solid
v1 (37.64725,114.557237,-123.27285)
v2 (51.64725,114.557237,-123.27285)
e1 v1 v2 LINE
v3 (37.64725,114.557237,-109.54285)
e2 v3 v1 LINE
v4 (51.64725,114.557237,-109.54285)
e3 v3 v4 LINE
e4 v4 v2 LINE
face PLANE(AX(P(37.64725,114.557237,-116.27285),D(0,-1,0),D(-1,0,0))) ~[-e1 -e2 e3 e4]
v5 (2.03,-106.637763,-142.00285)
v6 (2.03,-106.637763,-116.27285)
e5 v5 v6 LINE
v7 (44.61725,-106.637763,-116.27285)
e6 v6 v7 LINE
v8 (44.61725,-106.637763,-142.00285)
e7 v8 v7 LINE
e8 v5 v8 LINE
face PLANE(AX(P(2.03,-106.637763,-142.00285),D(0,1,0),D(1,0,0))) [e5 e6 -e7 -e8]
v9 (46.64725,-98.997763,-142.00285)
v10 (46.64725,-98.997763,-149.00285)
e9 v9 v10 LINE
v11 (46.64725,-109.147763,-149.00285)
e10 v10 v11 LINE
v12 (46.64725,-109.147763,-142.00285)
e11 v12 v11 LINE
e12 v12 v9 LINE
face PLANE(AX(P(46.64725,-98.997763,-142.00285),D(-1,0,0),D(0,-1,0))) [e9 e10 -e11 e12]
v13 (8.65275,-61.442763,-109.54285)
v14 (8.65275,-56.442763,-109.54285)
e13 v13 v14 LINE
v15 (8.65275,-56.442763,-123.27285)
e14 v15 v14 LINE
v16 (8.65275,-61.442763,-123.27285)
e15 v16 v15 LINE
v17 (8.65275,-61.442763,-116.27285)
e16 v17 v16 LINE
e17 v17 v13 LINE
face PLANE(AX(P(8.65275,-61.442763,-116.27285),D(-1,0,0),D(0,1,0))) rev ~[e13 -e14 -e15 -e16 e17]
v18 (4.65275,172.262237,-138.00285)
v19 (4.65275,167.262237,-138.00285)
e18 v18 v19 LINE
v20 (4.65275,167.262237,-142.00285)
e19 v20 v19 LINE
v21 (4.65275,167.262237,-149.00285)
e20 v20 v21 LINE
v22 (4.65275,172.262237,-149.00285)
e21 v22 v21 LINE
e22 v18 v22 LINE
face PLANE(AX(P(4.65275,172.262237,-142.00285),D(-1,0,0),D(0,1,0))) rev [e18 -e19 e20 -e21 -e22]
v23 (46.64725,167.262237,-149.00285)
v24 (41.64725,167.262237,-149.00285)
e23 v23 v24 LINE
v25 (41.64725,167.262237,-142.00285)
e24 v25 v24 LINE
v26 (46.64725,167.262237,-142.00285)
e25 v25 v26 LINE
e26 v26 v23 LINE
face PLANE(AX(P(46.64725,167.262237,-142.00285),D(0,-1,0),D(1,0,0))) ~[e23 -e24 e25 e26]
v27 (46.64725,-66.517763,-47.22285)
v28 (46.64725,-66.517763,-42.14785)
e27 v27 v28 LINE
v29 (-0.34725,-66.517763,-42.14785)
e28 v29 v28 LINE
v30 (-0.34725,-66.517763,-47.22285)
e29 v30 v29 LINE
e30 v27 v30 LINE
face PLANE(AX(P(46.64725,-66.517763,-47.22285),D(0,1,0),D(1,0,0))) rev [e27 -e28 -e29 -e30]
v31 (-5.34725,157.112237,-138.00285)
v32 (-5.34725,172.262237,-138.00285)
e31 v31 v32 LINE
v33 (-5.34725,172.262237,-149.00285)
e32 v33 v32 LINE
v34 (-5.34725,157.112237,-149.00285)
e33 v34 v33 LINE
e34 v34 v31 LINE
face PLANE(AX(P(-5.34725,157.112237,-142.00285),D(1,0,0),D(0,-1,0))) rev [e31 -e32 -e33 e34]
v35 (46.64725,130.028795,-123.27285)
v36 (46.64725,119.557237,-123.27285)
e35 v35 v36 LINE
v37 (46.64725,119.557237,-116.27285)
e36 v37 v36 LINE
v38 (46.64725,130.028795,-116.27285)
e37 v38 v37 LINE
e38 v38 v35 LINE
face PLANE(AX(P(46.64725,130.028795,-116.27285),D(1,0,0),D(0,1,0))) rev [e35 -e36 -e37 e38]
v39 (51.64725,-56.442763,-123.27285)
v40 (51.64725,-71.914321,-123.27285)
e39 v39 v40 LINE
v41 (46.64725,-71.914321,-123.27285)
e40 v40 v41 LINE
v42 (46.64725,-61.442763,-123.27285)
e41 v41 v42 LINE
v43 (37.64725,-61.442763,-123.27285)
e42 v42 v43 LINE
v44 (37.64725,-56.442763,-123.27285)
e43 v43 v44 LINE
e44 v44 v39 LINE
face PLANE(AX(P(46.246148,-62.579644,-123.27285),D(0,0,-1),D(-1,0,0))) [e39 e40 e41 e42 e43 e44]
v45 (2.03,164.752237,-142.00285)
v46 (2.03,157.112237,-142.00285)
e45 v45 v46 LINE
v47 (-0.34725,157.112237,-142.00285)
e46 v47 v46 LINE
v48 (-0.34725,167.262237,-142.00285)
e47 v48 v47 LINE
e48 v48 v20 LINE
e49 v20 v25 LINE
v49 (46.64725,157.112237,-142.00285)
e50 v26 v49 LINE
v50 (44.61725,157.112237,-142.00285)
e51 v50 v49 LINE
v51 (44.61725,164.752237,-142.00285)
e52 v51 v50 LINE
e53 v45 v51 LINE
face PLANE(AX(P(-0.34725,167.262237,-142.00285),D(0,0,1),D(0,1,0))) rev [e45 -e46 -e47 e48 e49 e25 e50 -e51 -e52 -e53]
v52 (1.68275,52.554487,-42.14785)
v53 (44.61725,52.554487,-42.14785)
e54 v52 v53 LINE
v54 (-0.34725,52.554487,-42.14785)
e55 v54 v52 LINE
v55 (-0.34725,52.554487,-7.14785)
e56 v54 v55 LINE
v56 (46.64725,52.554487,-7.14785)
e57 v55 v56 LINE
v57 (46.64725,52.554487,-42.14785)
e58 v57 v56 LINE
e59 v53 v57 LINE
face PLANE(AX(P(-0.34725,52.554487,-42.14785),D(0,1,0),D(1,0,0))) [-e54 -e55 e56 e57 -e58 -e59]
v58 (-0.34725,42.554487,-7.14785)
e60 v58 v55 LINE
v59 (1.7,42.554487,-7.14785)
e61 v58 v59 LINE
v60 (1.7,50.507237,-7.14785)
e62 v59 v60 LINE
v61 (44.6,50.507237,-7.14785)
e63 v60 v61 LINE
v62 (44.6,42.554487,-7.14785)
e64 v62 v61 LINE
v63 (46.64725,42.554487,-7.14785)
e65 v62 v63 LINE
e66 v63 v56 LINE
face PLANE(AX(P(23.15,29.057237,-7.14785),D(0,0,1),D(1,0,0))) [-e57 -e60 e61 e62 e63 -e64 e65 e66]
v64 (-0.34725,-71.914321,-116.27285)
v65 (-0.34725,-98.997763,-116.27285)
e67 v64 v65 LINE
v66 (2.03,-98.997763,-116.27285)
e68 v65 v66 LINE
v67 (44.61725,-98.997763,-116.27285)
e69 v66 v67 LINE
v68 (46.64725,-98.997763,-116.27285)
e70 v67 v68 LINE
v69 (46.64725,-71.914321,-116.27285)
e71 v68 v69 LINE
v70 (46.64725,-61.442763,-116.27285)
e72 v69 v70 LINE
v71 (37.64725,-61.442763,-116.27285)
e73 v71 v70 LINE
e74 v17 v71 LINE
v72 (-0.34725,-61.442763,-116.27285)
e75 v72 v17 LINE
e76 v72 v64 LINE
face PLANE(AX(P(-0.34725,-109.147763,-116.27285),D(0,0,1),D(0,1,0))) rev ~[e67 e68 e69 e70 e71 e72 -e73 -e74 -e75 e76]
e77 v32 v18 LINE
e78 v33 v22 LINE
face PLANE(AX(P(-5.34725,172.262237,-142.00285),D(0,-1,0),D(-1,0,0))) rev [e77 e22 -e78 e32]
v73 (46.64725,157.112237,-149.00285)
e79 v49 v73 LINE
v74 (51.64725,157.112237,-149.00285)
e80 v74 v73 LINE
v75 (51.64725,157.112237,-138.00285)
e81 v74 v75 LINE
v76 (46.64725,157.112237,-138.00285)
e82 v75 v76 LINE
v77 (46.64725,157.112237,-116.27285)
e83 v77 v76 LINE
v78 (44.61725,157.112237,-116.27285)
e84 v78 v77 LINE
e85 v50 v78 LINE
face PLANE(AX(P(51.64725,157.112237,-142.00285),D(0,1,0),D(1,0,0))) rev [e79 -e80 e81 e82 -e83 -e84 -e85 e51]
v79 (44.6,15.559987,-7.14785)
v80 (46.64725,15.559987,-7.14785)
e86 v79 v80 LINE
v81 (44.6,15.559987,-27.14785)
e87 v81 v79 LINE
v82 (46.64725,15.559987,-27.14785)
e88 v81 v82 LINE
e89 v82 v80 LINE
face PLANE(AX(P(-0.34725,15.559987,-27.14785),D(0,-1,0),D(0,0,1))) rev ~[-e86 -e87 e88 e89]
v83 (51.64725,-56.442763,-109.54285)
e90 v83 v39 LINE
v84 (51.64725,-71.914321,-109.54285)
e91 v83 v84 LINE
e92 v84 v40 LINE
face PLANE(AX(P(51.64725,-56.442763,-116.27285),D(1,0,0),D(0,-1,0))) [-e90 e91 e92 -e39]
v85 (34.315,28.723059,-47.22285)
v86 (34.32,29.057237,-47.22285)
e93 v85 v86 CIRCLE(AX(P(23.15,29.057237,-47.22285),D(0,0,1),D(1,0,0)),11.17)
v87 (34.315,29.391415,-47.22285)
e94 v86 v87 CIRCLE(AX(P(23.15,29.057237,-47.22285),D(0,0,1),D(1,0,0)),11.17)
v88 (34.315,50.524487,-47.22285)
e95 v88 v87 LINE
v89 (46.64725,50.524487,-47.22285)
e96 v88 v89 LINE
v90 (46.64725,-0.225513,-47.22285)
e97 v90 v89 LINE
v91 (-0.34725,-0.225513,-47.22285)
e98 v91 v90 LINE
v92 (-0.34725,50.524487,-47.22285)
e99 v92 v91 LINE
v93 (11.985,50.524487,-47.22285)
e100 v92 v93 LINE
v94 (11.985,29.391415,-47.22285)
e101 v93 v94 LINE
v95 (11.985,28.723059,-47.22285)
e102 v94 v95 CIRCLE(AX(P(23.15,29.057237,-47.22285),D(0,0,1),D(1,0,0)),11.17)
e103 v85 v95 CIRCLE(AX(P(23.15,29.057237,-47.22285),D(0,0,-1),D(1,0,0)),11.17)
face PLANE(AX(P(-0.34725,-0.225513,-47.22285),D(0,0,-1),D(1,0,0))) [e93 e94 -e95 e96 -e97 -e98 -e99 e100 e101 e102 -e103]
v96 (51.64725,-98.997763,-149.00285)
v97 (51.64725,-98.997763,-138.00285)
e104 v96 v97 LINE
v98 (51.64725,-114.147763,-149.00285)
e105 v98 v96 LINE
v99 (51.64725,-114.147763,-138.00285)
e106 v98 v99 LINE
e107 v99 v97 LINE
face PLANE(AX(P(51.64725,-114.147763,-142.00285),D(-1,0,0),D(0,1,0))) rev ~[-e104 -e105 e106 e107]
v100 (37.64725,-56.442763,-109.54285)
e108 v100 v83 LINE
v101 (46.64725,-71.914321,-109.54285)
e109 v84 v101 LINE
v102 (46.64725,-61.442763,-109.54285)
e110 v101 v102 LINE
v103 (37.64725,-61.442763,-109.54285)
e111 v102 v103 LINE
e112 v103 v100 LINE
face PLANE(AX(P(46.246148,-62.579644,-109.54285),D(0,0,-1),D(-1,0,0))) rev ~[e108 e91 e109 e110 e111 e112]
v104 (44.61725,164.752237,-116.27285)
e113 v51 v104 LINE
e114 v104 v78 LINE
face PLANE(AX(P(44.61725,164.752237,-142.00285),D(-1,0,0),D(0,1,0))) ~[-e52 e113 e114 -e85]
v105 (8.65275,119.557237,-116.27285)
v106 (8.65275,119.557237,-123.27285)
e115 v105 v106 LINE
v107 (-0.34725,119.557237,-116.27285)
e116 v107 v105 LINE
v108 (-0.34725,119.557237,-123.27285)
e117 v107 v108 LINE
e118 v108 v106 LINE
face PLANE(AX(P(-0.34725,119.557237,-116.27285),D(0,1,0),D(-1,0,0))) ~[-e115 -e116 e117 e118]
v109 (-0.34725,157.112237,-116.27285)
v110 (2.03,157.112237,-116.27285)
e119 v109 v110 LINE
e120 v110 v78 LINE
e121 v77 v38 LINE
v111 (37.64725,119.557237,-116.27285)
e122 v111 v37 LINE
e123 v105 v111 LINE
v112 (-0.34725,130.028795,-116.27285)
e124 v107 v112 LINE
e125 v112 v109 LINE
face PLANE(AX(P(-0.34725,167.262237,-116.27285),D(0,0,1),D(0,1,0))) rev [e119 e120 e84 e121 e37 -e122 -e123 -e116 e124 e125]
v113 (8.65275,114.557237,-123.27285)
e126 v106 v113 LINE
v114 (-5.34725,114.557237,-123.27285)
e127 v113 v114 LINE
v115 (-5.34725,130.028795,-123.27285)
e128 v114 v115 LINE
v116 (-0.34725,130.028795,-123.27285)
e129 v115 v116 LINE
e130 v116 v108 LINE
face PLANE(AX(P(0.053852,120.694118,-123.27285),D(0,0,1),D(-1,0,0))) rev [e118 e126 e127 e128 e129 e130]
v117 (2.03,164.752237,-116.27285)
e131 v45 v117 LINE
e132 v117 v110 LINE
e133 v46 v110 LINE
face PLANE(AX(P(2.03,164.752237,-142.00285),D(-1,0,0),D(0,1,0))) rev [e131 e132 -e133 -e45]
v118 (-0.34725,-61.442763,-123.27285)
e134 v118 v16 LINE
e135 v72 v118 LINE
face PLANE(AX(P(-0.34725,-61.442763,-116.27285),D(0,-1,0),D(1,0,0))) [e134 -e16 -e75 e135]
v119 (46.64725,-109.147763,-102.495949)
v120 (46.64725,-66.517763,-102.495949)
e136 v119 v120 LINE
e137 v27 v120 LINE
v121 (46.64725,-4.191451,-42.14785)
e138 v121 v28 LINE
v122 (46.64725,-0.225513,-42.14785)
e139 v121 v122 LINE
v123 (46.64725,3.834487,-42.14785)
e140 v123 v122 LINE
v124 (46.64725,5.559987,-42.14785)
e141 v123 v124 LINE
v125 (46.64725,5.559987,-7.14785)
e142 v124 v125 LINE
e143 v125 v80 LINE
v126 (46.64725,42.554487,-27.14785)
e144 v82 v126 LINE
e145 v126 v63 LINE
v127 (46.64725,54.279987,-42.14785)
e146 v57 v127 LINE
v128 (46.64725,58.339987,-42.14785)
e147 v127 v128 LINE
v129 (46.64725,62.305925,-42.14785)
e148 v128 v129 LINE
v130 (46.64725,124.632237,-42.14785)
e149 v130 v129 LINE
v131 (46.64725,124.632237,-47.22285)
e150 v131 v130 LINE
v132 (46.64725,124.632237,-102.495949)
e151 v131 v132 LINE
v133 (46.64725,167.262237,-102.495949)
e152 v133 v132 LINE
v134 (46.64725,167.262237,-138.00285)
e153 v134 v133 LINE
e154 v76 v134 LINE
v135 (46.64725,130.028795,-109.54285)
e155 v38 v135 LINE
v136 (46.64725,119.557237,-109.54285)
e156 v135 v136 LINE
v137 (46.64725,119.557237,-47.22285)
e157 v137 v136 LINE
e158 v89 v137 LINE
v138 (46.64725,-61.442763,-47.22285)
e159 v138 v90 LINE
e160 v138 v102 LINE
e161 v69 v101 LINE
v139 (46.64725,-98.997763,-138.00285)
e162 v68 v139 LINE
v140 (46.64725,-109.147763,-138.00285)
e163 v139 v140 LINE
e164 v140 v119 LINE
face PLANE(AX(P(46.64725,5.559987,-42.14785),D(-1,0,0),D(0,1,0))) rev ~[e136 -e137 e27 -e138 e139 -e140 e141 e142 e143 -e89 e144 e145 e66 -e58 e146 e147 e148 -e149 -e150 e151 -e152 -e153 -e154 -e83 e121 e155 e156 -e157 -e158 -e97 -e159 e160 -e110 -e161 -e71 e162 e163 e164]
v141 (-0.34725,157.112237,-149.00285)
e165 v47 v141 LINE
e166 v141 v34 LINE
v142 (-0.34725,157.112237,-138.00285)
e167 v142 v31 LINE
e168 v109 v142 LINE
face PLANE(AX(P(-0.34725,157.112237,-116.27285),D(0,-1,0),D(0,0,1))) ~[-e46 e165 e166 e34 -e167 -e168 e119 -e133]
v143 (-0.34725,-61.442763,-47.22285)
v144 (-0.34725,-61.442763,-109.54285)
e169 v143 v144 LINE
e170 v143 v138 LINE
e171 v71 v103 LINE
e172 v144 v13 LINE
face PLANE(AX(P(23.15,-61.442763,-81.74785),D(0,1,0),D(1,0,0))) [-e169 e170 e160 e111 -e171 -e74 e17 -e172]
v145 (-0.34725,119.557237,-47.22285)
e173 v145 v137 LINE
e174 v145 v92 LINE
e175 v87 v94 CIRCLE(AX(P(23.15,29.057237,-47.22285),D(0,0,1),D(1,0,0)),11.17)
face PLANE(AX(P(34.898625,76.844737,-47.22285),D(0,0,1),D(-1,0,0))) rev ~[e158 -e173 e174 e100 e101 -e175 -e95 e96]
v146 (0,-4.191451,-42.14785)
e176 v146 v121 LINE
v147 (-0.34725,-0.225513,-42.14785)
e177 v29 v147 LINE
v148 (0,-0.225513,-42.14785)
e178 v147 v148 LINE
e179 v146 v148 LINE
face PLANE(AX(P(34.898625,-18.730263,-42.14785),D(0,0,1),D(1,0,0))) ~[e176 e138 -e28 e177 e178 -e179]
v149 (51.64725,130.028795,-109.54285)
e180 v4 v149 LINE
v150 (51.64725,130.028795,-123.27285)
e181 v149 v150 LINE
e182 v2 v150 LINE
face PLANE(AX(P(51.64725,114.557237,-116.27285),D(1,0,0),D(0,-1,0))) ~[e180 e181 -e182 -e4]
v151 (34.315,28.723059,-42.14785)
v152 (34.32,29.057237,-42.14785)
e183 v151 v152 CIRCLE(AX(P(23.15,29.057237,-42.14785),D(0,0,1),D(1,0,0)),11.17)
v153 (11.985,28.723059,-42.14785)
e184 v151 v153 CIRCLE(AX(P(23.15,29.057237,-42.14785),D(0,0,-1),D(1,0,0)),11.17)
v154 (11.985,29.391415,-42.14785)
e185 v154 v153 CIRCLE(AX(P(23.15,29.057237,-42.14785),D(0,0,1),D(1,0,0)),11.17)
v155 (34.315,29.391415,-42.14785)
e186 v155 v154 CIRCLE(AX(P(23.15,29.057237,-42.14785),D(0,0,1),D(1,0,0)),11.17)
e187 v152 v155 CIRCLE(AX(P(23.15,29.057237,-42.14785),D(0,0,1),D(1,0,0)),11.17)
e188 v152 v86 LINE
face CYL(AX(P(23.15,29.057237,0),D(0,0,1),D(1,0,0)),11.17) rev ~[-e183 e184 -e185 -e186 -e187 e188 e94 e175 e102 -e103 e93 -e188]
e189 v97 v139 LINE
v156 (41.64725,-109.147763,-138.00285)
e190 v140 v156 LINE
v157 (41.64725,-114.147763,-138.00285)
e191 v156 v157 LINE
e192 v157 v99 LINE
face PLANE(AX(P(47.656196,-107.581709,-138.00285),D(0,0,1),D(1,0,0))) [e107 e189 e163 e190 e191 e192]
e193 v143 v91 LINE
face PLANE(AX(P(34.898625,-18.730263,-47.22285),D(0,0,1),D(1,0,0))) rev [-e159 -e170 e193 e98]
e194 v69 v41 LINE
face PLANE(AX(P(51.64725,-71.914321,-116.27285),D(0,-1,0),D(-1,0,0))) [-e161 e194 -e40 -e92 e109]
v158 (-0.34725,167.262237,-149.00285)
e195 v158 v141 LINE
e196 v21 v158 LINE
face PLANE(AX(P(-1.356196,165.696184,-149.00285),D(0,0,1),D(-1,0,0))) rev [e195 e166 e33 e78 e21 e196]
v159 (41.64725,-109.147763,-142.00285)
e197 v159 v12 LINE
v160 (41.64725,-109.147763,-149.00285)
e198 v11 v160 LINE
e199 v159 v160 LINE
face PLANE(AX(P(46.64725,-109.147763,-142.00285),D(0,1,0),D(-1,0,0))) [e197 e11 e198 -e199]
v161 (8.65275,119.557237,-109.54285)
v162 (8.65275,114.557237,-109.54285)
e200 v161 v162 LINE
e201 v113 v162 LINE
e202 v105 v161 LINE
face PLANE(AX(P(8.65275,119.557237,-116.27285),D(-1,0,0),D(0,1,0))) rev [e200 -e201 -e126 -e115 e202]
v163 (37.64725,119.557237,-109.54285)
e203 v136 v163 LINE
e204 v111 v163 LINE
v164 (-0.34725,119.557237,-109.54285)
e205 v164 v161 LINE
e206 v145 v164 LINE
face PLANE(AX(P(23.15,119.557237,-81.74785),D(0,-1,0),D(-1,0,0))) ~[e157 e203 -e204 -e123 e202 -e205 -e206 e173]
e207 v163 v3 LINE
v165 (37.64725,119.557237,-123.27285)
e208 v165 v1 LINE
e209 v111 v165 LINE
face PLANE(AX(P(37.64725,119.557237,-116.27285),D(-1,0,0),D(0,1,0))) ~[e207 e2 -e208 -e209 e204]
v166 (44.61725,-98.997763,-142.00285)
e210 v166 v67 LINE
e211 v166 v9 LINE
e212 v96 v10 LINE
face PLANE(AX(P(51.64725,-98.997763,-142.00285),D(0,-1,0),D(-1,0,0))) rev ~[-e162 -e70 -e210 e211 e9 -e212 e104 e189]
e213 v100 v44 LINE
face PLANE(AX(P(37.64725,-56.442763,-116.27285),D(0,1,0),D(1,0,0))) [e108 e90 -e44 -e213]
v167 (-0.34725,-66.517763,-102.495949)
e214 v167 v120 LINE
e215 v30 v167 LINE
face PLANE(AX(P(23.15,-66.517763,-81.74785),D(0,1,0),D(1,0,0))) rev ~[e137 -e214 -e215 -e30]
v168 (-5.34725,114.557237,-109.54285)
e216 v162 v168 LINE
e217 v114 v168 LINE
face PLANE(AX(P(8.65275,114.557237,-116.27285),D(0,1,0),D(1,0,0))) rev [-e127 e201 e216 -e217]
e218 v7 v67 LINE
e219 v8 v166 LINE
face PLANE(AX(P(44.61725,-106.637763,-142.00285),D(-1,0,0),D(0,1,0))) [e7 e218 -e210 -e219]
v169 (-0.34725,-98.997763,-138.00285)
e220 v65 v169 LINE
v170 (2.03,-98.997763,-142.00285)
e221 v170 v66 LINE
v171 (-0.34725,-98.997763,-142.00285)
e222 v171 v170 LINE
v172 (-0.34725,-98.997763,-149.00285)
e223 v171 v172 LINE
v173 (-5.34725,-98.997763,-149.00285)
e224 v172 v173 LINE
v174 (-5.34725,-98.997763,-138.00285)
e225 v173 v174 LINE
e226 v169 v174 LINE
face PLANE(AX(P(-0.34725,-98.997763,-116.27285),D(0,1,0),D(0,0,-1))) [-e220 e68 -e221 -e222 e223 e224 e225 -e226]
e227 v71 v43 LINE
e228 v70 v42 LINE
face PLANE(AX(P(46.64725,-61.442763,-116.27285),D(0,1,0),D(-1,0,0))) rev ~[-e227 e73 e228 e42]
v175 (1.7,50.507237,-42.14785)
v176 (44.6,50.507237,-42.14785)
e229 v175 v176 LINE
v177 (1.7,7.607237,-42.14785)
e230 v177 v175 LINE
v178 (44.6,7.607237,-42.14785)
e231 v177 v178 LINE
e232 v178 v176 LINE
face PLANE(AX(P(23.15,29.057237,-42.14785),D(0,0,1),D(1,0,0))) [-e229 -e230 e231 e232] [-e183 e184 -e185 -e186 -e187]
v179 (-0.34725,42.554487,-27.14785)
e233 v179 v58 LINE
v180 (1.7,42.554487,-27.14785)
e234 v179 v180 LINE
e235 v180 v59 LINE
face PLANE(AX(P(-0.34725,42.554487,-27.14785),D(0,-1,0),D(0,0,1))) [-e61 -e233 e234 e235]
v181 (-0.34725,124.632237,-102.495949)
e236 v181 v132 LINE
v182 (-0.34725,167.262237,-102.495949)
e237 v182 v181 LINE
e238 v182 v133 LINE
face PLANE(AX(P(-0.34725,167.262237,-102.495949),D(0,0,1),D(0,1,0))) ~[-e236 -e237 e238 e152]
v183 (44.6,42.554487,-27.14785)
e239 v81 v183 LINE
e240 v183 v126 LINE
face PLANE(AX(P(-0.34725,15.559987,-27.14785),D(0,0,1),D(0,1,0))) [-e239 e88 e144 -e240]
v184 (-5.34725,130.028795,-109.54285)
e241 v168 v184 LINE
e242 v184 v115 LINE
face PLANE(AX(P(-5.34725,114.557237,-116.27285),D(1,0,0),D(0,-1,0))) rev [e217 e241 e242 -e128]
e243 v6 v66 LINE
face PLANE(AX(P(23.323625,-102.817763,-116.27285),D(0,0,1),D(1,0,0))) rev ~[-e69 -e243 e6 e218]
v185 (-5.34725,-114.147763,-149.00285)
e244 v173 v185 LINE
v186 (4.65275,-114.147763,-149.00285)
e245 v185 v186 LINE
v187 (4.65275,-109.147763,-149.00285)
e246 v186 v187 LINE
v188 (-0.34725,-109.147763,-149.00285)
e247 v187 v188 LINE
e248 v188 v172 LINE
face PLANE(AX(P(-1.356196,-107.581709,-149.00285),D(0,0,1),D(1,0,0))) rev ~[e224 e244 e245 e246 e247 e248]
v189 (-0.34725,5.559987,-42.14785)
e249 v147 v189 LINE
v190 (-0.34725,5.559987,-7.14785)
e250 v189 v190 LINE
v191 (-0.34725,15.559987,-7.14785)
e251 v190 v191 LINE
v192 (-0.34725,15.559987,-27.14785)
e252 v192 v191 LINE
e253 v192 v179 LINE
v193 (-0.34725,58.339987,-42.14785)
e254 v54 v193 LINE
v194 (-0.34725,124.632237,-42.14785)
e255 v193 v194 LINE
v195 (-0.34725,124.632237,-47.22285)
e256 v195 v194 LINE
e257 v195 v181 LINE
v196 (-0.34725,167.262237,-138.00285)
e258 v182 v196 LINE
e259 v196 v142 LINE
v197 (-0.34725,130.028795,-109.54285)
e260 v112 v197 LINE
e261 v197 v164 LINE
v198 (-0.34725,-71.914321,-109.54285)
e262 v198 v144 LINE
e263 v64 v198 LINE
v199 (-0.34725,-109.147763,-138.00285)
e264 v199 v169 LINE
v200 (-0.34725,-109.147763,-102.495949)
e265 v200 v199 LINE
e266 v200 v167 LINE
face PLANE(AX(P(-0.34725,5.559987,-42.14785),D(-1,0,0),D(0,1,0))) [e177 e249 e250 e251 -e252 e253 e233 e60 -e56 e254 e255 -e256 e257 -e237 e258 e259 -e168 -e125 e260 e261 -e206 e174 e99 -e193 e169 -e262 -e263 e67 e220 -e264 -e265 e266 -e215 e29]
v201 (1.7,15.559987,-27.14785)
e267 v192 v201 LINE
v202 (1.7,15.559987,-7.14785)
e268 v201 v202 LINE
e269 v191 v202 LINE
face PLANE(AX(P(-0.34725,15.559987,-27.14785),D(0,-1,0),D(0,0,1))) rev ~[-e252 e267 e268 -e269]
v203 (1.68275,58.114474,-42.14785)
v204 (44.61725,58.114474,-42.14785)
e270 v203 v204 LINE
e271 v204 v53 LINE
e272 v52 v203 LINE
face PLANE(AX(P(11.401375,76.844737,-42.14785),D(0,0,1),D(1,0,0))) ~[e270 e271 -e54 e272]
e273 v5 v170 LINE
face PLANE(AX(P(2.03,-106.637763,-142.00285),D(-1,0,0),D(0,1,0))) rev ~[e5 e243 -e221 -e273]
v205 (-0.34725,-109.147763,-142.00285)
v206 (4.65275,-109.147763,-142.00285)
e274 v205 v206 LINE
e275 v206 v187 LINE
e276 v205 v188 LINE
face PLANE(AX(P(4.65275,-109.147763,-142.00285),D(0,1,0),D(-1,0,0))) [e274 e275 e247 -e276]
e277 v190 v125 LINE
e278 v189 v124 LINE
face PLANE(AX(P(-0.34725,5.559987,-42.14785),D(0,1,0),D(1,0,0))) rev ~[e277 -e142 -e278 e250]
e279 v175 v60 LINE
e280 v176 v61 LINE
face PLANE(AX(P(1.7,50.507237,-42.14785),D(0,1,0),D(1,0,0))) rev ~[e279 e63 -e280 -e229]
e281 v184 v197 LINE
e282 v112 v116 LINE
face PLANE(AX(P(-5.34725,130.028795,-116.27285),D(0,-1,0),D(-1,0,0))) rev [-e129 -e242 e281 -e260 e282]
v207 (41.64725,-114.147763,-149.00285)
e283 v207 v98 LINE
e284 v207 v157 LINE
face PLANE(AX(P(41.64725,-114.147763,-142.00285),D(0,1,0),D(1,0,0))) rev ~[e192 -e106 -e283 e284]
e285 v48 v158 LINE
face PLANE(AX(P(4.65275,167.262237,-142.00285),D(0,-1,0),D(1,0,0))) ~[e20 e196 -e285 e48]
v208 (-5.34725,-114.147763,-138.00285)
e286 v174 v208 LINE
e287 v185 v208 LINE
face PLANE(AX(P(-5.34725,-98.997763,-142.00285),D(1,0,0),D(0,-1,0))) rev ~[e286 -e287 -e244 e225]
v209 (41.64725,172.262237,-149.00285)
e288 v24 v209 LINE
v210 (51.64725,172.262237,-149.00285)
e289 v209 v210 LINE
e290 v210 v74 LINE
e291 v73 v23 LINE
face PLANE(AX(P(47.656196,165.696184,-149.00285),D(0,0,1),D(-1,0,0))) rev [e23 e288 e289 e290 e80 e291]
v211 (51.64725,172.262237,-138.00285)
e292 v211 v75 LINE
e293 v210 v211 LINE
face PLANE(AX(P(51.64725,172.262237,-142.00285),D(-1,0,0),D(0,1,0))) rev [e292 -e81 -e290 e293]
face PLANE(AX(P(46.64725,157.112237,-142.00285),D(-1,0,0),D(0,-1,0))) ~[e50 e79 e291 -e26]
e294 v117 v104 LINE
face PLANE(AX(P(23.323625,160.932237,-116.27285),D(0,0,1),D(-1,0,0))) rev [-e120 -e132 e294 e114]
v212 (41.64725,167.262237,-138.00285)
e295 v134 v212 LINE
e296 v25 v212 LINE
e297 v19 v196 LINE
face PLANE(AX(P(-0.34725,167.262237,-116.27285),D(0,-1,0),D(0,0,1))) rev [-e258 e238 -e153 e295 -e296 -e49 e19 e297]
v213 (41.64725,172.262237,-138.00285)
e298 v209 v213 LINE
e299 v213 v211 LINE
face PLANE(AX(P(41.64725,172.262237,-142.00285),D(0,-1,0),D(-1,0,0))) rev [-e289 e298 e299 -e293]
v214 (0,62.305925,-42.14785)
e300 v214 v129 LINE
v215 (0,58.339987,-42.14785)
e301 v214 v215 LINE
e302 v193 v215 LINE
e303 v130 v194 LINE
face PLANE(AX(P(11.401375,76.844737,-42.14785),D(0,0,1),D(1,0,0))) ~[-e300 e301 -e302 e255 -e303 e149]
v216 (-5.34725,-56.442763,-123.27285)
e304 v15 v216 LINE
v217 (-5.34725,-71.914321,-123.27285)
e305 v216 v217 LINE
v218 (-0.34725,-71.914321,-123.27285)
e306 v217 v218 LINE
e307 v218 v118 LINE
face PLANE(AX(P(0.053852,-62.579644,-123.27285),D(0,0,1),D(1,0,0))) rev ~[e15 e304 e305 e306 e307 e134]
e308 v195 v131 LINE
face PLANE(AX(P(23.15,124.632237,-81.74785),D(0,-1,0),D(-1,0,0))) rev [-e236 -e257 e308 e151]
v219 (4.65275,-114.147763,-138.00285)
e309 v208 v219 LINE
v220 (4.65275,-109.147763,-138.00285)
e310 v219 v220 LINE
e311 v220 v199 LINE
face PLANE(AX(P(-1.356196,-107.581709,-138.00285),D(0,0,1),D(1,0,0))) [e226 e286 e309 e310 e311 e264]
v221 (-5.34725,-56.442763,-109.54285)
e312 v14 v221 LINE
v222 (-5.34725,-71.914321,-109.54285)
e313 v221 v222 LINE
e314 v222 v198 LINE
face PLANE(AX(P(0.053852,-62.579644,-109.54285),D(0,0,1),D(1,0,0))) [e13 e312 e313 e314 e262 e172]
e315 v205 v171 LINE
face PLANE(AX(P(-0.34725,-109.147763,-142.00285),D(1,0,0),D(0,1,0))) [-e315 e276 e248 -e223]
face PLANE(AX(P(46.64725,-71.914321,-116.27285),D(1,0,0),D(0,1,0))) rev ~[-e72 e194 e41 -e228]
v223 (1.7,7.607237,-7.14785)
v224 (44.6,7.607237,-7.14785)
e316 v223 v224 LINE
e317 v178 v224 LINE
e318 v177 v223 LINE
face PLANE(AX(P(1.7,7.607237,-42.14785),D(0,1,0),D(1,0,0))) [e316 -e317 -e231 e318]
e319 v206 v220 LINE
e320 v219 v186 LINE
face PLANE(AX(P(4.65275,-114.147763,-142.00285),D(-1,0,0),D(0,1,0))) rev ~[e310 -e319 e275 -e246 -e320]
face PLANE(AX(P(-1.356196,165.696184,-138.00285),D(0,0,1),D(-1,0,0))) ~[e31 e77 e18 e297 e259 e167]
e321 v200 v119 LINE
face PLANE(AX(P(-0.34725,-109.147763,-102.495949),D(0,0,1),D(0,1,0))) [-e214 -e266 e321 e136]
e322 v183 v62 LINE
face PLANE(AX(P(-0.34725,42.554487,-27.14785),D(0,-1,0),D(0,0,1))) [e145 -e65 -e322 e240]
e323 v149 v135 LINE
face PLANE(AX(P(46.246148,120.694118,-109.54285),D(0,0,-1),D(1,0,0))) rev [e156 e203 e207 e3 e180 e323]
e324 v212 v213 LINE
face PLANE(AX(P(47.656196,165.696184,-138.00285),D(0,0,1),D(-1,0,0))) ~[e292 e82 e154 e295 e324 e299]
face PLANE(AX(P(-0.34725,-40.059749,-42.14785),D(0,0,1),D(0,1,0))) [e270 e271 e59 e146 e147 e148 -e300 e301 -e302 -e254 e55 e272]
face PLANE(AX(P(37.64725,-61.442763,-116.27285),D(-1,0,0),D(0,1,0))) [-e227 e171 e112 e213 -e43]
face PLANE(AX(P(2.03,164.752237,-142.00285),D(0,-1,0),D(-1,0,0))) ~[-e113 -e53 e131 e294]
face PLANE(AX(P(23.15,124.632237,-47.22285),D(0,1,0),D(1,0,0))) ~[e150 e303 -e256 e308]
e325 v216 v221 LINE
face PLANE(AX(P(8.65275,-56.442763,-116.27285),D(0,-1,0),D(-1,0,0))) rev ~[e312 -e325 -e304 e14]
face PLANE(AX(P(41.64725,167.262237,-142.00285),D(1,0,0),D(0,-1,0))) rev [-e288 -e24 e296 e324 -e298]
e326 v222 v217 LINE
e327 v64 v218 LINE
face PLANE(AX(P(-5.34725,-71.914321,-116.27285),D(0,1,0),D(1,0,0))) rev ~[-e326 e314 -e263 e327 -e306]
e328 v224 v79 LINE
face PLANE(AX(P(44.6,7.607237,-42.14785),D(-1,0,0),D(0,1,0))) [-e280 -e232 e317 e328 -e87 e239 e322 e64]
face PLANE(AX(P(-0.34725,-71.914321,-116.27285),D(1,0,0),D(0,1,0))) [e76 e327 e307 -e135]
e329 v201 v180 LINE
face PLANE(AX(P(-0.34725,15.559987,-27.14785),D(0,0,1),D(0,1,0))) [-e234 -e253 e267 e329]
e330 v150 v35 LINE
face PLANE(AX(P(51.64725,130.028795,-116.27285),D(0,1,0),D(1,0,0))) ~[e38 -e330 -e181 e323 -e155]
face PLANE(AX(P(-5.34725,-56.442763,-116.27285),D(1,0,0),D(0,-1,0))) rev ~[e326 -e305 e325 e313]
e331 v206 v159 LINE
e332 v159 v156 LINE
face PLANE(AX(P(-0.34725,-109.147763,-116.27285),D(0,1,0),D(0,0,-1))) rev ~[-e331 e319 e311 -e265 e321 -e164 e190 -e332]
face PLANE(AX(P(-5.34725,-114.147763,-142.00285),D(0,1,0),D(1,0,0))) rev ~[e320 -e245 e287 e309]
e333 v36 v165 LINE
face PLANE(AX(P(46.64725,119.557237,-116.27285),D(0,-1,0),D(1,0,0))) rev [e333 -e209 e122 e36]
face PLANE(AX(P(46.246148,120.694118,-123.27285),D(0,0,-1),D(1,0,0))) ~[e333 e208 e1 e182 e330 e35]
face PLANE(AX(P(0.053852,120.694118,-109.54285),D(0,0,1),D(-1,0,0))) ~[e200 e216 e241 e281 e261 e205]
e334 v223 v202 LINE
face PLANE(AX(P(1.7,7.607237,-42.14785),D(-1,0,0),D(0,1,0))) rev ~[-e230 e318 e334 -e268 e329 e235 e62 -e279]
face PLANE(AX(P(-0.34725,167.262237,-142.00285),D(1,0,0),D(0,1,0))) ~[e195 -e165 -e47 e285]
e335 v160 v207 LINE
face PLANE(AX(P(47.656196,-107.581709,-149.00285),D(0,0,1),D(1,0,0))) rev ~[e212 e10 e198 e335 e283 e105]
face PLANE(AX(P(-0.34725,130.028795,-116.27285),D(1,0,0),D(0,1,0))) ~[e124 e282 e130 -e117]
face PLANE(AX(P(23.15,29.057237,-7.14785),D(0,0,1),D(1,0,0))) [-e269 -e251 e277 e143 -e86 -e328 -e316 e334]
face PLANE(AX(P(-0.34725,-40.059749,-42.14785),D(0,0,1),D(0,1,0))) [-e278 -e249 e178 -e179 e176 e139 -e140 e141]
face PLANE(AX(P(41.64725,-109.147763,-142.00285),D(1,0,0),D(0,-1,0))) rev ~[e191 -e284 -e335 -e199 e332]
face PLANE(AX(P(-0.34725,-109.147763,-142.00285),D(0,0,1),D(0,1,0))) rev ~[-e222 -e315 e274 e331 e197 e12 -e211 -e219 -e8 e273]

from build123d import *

# Parameters (mm, degrees)
SKETCH_1_W                = 46.3
SKETCH_1_H                = 47
EXTRUDE_1_DEPTH           = 50
SKETCH_2_W                = 46.3
SKETCH_2_H                = 42
CUT_EXTRUDE_1_DEPTH       = 32.3
SKETCH_3_W                = 42.3
SKETCH_3_H                = 40
CUT_EXTRUDE_2_DEPTH       = 10
SKETCH_4_W                = 42.3
SKETCH_4_H                = 37
CUT_EXTRUDE_3_DEPTH       = 8.7
SKETCH_5_W                = 2
SKETCH_5_H                = 22
SKETCH_5_W_2              = 26.3
SKETCH_5_H_2              = 2
CUT_EXTRUDE_4_DEPTH       = 5
SKETCH_7_W                = 10
SKETCH_7_H                = 5
EXTRUDE_2_DEPTH           = 2
SKETCH_8_W                = 10
SKETCH_8_H                = 5
EXTRUDE_3_DEPTH           = 2
SKETCH_9_W                = 22
SKETCH_9_H                = 21.15
CUT_EXTRUDE_5_DEPTH       = 6
SKETCH_11_R               = 2
EXTRUDE_4_DEPTH           = 4
SKETCH_12_R               = 2
CUT_EXTRUDE_6_DEPTH       = 4
SCALE_1_SCALE             = 1.015
SKETCH_13_W               = 33.453324454
SKETCH_13_H               = 20.869572599
CUT_EXTRUDE_7_DEPTH       = 57.79725
CUT_EXTRUDE_7_DEPTH_BACK  = 11.49725
EXTRUDE_START             = -47.22285
SKETCH_15_W               = 23.49725
SKETCH_15_H               = 95.575
EXTRUDE_5_DEPTH           = 5.075
SKETCH_16_R               = 11.165
CUT_EXTRUDE_9_DEPTH       = 1
CUT_EXTRUDE_9_DEPTH_BACK  = 48.222850293
SKETCH_17_W               = 23.49725
SKETCH_17_H               = 95.575
EXTRUDE_6_DEPTH           = 5.075
SKETCH_18_R               = 11.17
CUT_EXTRUDE_11_DEPTH      = 1
CUT_EXTRUDE_11_DEPTH_BACK = 48.222850293
EXTRUDE_START_2           = -42.14785
SKETCH_20_W               = 46.64725
SKETCH_20_H               = 4.191450632
EXTRUDE_7_DEPTH           = 10
EXTRUDE_START_3           = -66.517763
SKETCH_22_W               = 46.9945
SKETCH_22_H               = 69.05
EXTRUDE_8_DEPTH           = 5.075
SKETCH_24_W               = 13.7769009
SKETCH_24_H               = 42.63
EXTRUDE_10_DEPTH          = 46.9945
SKETCH_26_W               = 25.73
SKETCH_26_H               = 10.15
EXTRUDE_11_DEPTH          = 46.9945
CUT_EXTRUDE_START         = -142.00285
SKETCH_28_W               = 42.58725
SKETCH_28_H               = 7.64
CUT_EXTRUDE_13_DEPTH      = 25.73
EXTRUDE_12_DEPTH          = 7
EXTRUDE_12_2_DEPTH        = 7
EXTRUDE_14_DEPTH          = 7
EXTRUDE_14_2_DEPTH        = 7
EXTRUDE_15_DEPTH          = 4
EXTRUDE_16_DEPTH          = 6.73
SKETCH_31_W               = 24.506685575
SKETCH_31_H               = 120.544137908
CUT_EXTRUDE_14_DEPTH      = 11.15
CUT_EXTRUDE_14_DEPTH_BACK = 58.1445
SKETCH_34_W               = 46.9945
SKETCH_34_H               = 46.9945
EXTRUDE_17_DEPTH          = 35
SKETCH_33_W               = 42.9
SKETCH_33_H               = 42.9
CUT_EXTRUDE_15_DEPTH      = 35
SKETCH_35_W               = 20
SKETCH_35_H               = 26.9945
CUT_EXTRUDE_16_DEPTH      = 6
CUT_EXTRUDE_16_DEPTH_BACK = 52.9945


with BuildPart() as part:
    # 草圖1 → 填料-伸長1 (new body)
    with BuildSketch(Plane(origin=(0, 0, 0), x_dir=(1, 0, 0), z_dir=(0, 1, 0))):
        with Locations((23.15, 23.5)):
            Rectangle(SKETCH_1_W, SKETCH_1_H)
    extrude(amount=EXTRUDE_1_DEPTH)

    # 草圖2 → 除料-伸長1 (cut)
    with BuildSketch(Plane(origin=(0, 50, 0), x_dir=(1, 0, 0), z_dir=(0, 1, 0))):
        with Locations((23.15, 21)):
            Rectangle(SKETCH_2_W, SKETCH_2_H)
    extrude(amount=-CUT_EXTRUDE_1_DEPTH, mode=Mode.SUBTRACT)

    # 草圖3 → 除料-伸長2 (cut)
    with BuildSketch(Plane(origin=(0, 17.7, 0), x_dir=(1, 0, 0), z_dir=(0, 1, 0))):
        with Locations((23.15, 22)):
            Rectangle(SKETCH_3_W, SKETCH_3_H)
    extrude(amount=-CUT_EXTRUDE_2_DEPTH, mode=Mode.SUBTRACT)

    # 草圖4 → 除料-伸長3 (cut, through all)
    with BuildSketch(Plane(origin=(0, 7.7, 0), x_dir=(1, 0, 0), z_dir=(0, 1, 0))):
        with Locations((23.15, 23.5)):
            Rectangle(SKETCH_4_W, SKETCH_4_H)
    extrude(amount=-CUT_EXTRUDE_3_DEPTH, mode=Mode.SUBTRACT)

    # 草圖5 → 除料-伸長4 (cut)
    with BuildSketch(Plane(origin=(0, 17.7, 0), x_dir=(1, 0, 0), z_dir=(0, 1, 0))):
        with Locations((1, 21)):
            Rectangle(SKETCH_5_W, SKETCH_5_H)
        with Locations((45.3, 21)):
            Rectangle(SKETCH_5_W, SKETCH_5_H)
        with Locations((23.15, 1)):
            Rectangle(SKETCH_5_W_2, SKETCH_5_H_2)
    extrude(amount=-CUT_EXTRUDE_4_DEPTH, mode=Mode.SUBTRACT)

    # 草圖7 → 填料-伸長2 (add)
    with BuildSketch(Plane.ZY):
        with BuildLine():
            Line((-42, 32.7), (-42, 22.7))
            Line((-42, 22.7), (-32, 22.7))
            ThreePointArc((-32, 22.7), (-34.928932188, 29.771067812), (-42, 32.7))
        make_face()
        with Locations((-37, 20.2)):
            Rectangle(SKETCH_7_W, SKETCH_7_H)
    extrude(amount=-EXTRUDE_2_DEPTH)

    # 草圖8 → 填料-伸長3 (add)
    with BuildSketch(Plane(origin=(46.3, 0, 0), x_dir=(0, 0, -1), z_dir=(1, 0, 0))):
        with Locations((37, 20.2)):
            Rectangle(SKETCH_8_W, SKETCH_8_H)
        with BuildLine():
            Line((32, 22.7), (42, 22.7))
            Line((42, 22.7), (42, 32.7))
            ThreePointArc((42, 32.7), (34.928932188, 29.771067812), (32, 22.7))
        make_face()
    extrude(amount=-EXTRUDE_3_DEPTH)

    # 草圖9 → 除料-伸長5 (cut, through all)
    with BuildSketch(Plane.XY.offset(-42)):
        with BuildLine():
            ThreePointArc((34.15, 28.85), (23.15, 17.85), (12.15, 28.85))
            Line((12.15, 28.85), (34.15, 28.85))
        make_face()
        with Locations((23.15, 39.425)):
            Rectangle(SKETCH_9_W, SKETCH_9_H)
    extrude(amount=-CUT_EXTRUDE_5_DEPTH, mode=Mode.SUBTRACT)

    # 草圖11 → 填料-伸長4 (add)
    with BuildSketch(Plane.XZ):
        with BuildLine():
            Line((51.3, -5), (46.3, -5))
            Line((46.3, -5), (46.3, -15))
            Line((46.3, -15), (51.3, -15))
            ThreePointArc((51.3, -15), (56.3, -10), (51.3, -5))
        make_face()
        with Locations((51.3, -10)):
            Circle(SKETCH_11_R, mode=Mode.SUBTRACT)
        with BuildLine():
            Line((46.3, -32), (46.3, -42))
            Line((46.3, -42), (51.3, -42))
            ThreePointArc((51.3, -42), (56.3, -37), (51.3, -32))
            Line((51.3, -32), (46.3, -32))
        make_face()
        with Locations((51.3, -37)):
            Circle(SKETCH_11_R, mode=Mode.SUBTRACT)
        with BuildLine():
            Line((0, -15), (0, -5))
            Line((0, -5), (-5, -5))
            ThreePointArc((-5, -5), (-10, -10), (-5, -15))
            Line((-5, -15), (0, -15))
        make_face()
        with BuildLine():
            Line((0, -42), (0, -32))
            Line((0, -32), (-5, -32))
            ThreePointArc((-5, -32), (-10, -37), (-5, -42))
            Line((-5, -42), (0, -42))
        make_face()
        with Locations((-5, -37)):
            Circle(SKETCH_11_R, mode=Mode.SUBTRACT)
    extrude(amount=-EXTRUDE_4_DEPTH)

    # 草圖12 → 除料-伸長6 (cut)
    with BuildSketch(Plane.XZ):
        with Locations((-5, -10)):
            Circle(SKETCH_12_R)
    extrude(amount=-CUT_EXTRUDE_6_DEPTH, mode=Mode.SUBTRACT)


with BuildPart() as part_1:
    # 縮放比例1: scaled about (23.15, 15.034187995, -32.143313771)
    add(part.part.scale(SCALE_1_SCALE).moved(Location((-0.34725, -0.22551282, 0.482149707))))

    # 草圖13 → 除料-伸長7 (cut, two sides)
    with BuildSketch(Plane(origin=(0, 0, 0), x_dir=(0, 0, -1), z_dir=(1, 0, 0))) as cut_extrude_7_sk:
        with Locations((15.271188066, 10.20927348)):
            Rectangle(SKETCH_13_W, SKETCH_13_H)
    extrude(amount=CUT_EXTRUDE_7_DEPTH, mode=Mode.SUBTRACT)
    extrude(cut_extrude_7_sk.sketch, amount=-CUT_EXTRUDE_7_DEPTH_BACK, mode=Mode.SUBTRACT)

    # 草圖15 → 填料-伸長5 (add)
    with BuildSketch(Plane.XY.offset(EXTRUDE_START)):
        with Locations((34.898625, 76.84473718)):
            Rectangle(SKETCH_15_W, SKETCH_15_H)
    extrude_5 = extrude(amount=EXTRUDE_5_DEPTH)

    # 鏡射1: 填料-伸長5 across plane
    add(extrude_5.mirror(Plane(origin=(23.15, 50.52448718, 56.273191067), x_dir=(0, 0, 1), z_dir=(1, 0, 0))))

    # 草圖16 → 除料-伸長9 (cut, two sides)
    with BuildSketch(Plane.XY) as cut_extrude_9_sk:
        with Locations((23.15, 29.05723718)):
            Circle(SKETCH_16_R)
    extrude(amount=CUT_EXTRUDE_9_DEPTH, mode=Mode.SUBTRACT)
    extrude(cut_extrude_9_sk.sketch, amount=-CUT_EXTRUDE_9_DEPTH_BACK, mode=Mode.SUBTRACT)

    # 草圖17 → 填料-伸長6 (add)
    with BuildSketch(Plane.XY.offset(EXTRUDE_START)):
        with Locations((11.401375, -18.73026282)):
            Rectangle(SKETCH_17_W, SKETCH_17_H)
    extrude_6 = extrude(amount=EXTRUDE_6_DEPTH)

    # 鏡射2: 填料-伸長6 across plane
    add(extrude_6.mirror(Plane(origin=(23.15, 50.52448718, 56.273191067), x_dir=(0, 0, 1), z_dir=(-1, 0, 0))))

    # 草圖18 → 除料-伸長11 (cut, two sides)
    with BuildSketch(Plane.XY) as cut_extrude_11_sk:
        with Locations((23.15, 29.05723718)):
            Circle(SKETCH_18_R)
    extrude(amount=CUT_EXTRUDE_11_DEPTH, mode=Mode.SUBTRACT)
    extrude(cut_extrude_11_sk.sketch, amount=-CUT_EXTRUDE_11_DEPTH_BACK, mode=Mode.SUBTRACT)

    # 草圖20 → 填料-伸長7 (add)
    with BuildSketch(Plane.XY.offset(EXTRUDE_START_2)):
        with Locations((23.323625, -2.095725316)):
            Rectangle(SKETCH_20_W, SKETCH_20_H)
    extrude(amount=EXTRUDE_7_DEPTH)

    # 草圖22 → 填料-伸長8 (add)
    with BuildSketch(Plane(origin=(0, 0, 0), x_dir=(1, 0, 0), z_dir=(0, 1, 0)).offset(EXTRUDE_START_3)):
        with Locations((23.15, 81.747850293)):
            Rectangle(SKETCH_22_W, SKETCH_22_H)
    extrude(amount=EXTRUDE_8_DEPTH)

    # 草圖24 → 填料-伸長10 (add)
    with BuildSketch(Plane(origin=(-0.34725, 0, 0), x_dir=(0, 0, -1), z_dir=(1, 0, 0))):
        with Locations((109.384399843, -87.83276282)):
            Rectangle(SKETCH_24_W, SKETCH_24_H)
    extrude(amount=EXTRUDE_10_DEPTH)

    # 草圖26 → 填料-伸長11 (add)
    with BuildSketch(Plane(origin=(-0.34725, 0, 0), x_dir=(0, 0, -1), z_dir=(1, 0, 0))):
        with Locations((129.137850293, -104.07276282)):
            Rectangle(SKETCH_26_W, SKETCH_26_H)
    extrude(amount=EXTRUDE_11_DEPTH)

    # 草圖28 → 除料-伸長13 (cut)
    with BuildSketch(Plane.XY.offset(CUT_EXTRUDE_START)):
        with Locations((23.323625, -102.81776282)):
            Rectangle(SKETCH_28_W, SKETCH_28_H)
    extrude(amount=CUT_EXTRUDE_13_DEPTH, mode=Mode.SUBTRACT)



with BuildPart() as body_2:
    # 草圖29 → 填料-伸長12 (new body)
    with BuildSketch(Plane(origin=(0, 0, -116.272850293), x_dir=(-1, 0, 0), z_dir=(0, 0, -1))):
        Polygon((-37.64725, -61.44276282), (-37.64725, -56.44276282), (-51.64725, -56.44276282), (-51.64725, -71.914320692), (-46.64725, -71.914320692), (-46.64725, -61.44276282), align=None)
    extrude(amount=EXTRUDE_12_DEPTH)


with BuildPart() as body_3:
    # 草圖29 → Extrude 12 2 (new body)
    with BuildSketch(Plane(origin=(0, 0, -116.272850293), x_dir=(-1, 0, 0), z_dir=(0, 0, -1))):
        Polygon((-8.65275, -61.44276282), (-8.65275, -56.44276282), (5.34725, -56.44276282), (5.34725, -71.914320692), (0.34725, -71.914320692), (0.34725, -61.44276282), align=None)
    extrude(amount=EXTRUDE_12_2_DEPTH)


with BuildPart() as body_4:
    # 草圖30 → 填料-伸長14 (new body)
    with BuildSketch(Plane(origin=(0, 0, -142.002850293), x_dir=(-1, 0, 0), z_dir=(0, 0, -1))):
        Polygon((-41.64725, -109.14776282), (-41.64725, -114.14776282), (-51.64725, -114.14776282), (-51.64725, -98.99776282), (-46.64725, -98.99776282), (-46.64725, -109.14776282), align=None)
    extrude(amount=EXTRUDE_14_DEPTH)


with BuildPart() as body_5:
    # 草圖30 → Extrude 14 2 (new body)
    with BuildSketch(Plane(origin=(0, 0, -142.002850293), x_dir=(-1, 0, 0), z_dir=(0, 0, -1))):
        Polygon((-4.65275, -109.14776282), (0.34725, -109.14776282), (0.34725, -98.99776282), (5.34725, -98.99776282), (5.34725, -114.14776282), (-4.65275, -114.14776282), align=None)
    extrude(amount=EXTRUDE_14_2_DEPTH)


with BuildPart() as part_2:
    add(part_1.part)

    add(body_4.part)  # 填料-伸長15 merges body 4

    add(body_5.part)  # 填料-伸長15 merges body 5
    # 草圖30<2> → 填料-伸長15 (add)
    with BuildSketch(Plane(origin=(0, 0, -142.002850293), x_dir=(-1, 0, 0), z_dir=(0, 0, -1))):
        Polygon((-41.64725, -109.14776282), (-41.64725, -114.14776282), (-51.64725, -114.14776282), (-51.64725, -98.99776282), (-46.64725, -98.99776282), (-46.64725, -109.14776282), align=None)
        Polygon((-4.65275, -109.14776282), (0.34725, -109.14776282), (0.34725, -98.99776282), (5.34725, -98.99776282), (5.34725, -114.14776282), (-4.65275, -114.14776282), align=None)
    extrude(amount=-EXTRUDE_15_DEPTH)


    add(body_2.part)  # 填料-伸長16 merges body 2

    add(body_3.part)  # 填料-伸長16 merges body 3
    # 草圖29<5> → 填料-伸長16 (add)
    with BuildSketch(Plane(origin=(0, 0, -116.272850293), x_dir=(-1, 0, 0), z_dir=(0, 0, -1))):
        Polygon((-37.64725, -61.44276282), (-37.64725, -56.44276282), (-51.64725, -56.44276282), (-51.64725, -71.914320692), (-46.64725, -71.914320692), (-46.64725, -61.44276282), align=None)
        Polygon((-8.65275, -61.44276282), (-8.65275, -56.44276282), (5.34725, -56.44276282), (5.34725, -71.914320692), (0.34725, -71.914320692), (0.34725, -61.44276282), align=None)
    extrude(amount=-EXTRUDE_16_DEPTH)

    # 鏡射40: part across plane


with BuildPart() as part_3:
    add(part_2.part)
    add(part_2.part.mirror(Plane.ZX.offset(29.05723718)))

    # 草圖31 → 除料-伸長14 (cut, two sides)
    with BuildSketch(Plane.ZY.offset(0.34725)) as cut_extrude_14_sk:
        with Locations((-29.894507506, 20.212320412)):
            Rectangle(SKETCH_31_W, SKETCH_31_H)
    extrude(amount=CUT_EXTRUDE_14_DEPTH, mode=Mode.SUBTRACT)
    extrude(cut_extrude_14_sk.sketch, amount=-CUT_EXTRUDE_14_DEPTH_BACK, mode=Mode.SUBTRACT)

    # 草圖34 → 填料-伸長17 (add)
    with BuildSketch(Plane.XY.offset(-42.147850293)):
        with Locations((23.15, 29.05723718)):
            Rectangle(SKETCH_34_W, SKETCH_34_H)
    extrude(amount=EXTRUDE_17_DEPTH)

    # 草圖33 → 除料-伸長15 (cut)
    with BuildSketch(Plane.XY.offset(-42.147850293)):
        with Locations((23.15, 29.05723718)):
            Rectangle(SKETCH_33_W, SKETCH_33_H)
    extrude(amount=CUT_EXTRUDE_15_DEPTH, mode=Mode.SUBTRACT)

    # 草圖35 → 除料-伸長16 (cut, two sides)
    with BuildSketch(Plane.ZY.offset(0.34725)) as cut_extrude_16_sk:
        with Locations((-17.147850293, 29.05723718)):
            Rectangle(SKETCH_35_W, SKETCH_35_H)
    extrude(amount=CUT_EXTRUDE_16_DEPTH, mode=Mode.SUBTRACT)
    extrude(cut_extrude_16_sk.sketch, amount=-CUT_EXTRUDE_16_DEPTH_BACK, mode=Mode.SUBTRACT)


solid = part_3.part
